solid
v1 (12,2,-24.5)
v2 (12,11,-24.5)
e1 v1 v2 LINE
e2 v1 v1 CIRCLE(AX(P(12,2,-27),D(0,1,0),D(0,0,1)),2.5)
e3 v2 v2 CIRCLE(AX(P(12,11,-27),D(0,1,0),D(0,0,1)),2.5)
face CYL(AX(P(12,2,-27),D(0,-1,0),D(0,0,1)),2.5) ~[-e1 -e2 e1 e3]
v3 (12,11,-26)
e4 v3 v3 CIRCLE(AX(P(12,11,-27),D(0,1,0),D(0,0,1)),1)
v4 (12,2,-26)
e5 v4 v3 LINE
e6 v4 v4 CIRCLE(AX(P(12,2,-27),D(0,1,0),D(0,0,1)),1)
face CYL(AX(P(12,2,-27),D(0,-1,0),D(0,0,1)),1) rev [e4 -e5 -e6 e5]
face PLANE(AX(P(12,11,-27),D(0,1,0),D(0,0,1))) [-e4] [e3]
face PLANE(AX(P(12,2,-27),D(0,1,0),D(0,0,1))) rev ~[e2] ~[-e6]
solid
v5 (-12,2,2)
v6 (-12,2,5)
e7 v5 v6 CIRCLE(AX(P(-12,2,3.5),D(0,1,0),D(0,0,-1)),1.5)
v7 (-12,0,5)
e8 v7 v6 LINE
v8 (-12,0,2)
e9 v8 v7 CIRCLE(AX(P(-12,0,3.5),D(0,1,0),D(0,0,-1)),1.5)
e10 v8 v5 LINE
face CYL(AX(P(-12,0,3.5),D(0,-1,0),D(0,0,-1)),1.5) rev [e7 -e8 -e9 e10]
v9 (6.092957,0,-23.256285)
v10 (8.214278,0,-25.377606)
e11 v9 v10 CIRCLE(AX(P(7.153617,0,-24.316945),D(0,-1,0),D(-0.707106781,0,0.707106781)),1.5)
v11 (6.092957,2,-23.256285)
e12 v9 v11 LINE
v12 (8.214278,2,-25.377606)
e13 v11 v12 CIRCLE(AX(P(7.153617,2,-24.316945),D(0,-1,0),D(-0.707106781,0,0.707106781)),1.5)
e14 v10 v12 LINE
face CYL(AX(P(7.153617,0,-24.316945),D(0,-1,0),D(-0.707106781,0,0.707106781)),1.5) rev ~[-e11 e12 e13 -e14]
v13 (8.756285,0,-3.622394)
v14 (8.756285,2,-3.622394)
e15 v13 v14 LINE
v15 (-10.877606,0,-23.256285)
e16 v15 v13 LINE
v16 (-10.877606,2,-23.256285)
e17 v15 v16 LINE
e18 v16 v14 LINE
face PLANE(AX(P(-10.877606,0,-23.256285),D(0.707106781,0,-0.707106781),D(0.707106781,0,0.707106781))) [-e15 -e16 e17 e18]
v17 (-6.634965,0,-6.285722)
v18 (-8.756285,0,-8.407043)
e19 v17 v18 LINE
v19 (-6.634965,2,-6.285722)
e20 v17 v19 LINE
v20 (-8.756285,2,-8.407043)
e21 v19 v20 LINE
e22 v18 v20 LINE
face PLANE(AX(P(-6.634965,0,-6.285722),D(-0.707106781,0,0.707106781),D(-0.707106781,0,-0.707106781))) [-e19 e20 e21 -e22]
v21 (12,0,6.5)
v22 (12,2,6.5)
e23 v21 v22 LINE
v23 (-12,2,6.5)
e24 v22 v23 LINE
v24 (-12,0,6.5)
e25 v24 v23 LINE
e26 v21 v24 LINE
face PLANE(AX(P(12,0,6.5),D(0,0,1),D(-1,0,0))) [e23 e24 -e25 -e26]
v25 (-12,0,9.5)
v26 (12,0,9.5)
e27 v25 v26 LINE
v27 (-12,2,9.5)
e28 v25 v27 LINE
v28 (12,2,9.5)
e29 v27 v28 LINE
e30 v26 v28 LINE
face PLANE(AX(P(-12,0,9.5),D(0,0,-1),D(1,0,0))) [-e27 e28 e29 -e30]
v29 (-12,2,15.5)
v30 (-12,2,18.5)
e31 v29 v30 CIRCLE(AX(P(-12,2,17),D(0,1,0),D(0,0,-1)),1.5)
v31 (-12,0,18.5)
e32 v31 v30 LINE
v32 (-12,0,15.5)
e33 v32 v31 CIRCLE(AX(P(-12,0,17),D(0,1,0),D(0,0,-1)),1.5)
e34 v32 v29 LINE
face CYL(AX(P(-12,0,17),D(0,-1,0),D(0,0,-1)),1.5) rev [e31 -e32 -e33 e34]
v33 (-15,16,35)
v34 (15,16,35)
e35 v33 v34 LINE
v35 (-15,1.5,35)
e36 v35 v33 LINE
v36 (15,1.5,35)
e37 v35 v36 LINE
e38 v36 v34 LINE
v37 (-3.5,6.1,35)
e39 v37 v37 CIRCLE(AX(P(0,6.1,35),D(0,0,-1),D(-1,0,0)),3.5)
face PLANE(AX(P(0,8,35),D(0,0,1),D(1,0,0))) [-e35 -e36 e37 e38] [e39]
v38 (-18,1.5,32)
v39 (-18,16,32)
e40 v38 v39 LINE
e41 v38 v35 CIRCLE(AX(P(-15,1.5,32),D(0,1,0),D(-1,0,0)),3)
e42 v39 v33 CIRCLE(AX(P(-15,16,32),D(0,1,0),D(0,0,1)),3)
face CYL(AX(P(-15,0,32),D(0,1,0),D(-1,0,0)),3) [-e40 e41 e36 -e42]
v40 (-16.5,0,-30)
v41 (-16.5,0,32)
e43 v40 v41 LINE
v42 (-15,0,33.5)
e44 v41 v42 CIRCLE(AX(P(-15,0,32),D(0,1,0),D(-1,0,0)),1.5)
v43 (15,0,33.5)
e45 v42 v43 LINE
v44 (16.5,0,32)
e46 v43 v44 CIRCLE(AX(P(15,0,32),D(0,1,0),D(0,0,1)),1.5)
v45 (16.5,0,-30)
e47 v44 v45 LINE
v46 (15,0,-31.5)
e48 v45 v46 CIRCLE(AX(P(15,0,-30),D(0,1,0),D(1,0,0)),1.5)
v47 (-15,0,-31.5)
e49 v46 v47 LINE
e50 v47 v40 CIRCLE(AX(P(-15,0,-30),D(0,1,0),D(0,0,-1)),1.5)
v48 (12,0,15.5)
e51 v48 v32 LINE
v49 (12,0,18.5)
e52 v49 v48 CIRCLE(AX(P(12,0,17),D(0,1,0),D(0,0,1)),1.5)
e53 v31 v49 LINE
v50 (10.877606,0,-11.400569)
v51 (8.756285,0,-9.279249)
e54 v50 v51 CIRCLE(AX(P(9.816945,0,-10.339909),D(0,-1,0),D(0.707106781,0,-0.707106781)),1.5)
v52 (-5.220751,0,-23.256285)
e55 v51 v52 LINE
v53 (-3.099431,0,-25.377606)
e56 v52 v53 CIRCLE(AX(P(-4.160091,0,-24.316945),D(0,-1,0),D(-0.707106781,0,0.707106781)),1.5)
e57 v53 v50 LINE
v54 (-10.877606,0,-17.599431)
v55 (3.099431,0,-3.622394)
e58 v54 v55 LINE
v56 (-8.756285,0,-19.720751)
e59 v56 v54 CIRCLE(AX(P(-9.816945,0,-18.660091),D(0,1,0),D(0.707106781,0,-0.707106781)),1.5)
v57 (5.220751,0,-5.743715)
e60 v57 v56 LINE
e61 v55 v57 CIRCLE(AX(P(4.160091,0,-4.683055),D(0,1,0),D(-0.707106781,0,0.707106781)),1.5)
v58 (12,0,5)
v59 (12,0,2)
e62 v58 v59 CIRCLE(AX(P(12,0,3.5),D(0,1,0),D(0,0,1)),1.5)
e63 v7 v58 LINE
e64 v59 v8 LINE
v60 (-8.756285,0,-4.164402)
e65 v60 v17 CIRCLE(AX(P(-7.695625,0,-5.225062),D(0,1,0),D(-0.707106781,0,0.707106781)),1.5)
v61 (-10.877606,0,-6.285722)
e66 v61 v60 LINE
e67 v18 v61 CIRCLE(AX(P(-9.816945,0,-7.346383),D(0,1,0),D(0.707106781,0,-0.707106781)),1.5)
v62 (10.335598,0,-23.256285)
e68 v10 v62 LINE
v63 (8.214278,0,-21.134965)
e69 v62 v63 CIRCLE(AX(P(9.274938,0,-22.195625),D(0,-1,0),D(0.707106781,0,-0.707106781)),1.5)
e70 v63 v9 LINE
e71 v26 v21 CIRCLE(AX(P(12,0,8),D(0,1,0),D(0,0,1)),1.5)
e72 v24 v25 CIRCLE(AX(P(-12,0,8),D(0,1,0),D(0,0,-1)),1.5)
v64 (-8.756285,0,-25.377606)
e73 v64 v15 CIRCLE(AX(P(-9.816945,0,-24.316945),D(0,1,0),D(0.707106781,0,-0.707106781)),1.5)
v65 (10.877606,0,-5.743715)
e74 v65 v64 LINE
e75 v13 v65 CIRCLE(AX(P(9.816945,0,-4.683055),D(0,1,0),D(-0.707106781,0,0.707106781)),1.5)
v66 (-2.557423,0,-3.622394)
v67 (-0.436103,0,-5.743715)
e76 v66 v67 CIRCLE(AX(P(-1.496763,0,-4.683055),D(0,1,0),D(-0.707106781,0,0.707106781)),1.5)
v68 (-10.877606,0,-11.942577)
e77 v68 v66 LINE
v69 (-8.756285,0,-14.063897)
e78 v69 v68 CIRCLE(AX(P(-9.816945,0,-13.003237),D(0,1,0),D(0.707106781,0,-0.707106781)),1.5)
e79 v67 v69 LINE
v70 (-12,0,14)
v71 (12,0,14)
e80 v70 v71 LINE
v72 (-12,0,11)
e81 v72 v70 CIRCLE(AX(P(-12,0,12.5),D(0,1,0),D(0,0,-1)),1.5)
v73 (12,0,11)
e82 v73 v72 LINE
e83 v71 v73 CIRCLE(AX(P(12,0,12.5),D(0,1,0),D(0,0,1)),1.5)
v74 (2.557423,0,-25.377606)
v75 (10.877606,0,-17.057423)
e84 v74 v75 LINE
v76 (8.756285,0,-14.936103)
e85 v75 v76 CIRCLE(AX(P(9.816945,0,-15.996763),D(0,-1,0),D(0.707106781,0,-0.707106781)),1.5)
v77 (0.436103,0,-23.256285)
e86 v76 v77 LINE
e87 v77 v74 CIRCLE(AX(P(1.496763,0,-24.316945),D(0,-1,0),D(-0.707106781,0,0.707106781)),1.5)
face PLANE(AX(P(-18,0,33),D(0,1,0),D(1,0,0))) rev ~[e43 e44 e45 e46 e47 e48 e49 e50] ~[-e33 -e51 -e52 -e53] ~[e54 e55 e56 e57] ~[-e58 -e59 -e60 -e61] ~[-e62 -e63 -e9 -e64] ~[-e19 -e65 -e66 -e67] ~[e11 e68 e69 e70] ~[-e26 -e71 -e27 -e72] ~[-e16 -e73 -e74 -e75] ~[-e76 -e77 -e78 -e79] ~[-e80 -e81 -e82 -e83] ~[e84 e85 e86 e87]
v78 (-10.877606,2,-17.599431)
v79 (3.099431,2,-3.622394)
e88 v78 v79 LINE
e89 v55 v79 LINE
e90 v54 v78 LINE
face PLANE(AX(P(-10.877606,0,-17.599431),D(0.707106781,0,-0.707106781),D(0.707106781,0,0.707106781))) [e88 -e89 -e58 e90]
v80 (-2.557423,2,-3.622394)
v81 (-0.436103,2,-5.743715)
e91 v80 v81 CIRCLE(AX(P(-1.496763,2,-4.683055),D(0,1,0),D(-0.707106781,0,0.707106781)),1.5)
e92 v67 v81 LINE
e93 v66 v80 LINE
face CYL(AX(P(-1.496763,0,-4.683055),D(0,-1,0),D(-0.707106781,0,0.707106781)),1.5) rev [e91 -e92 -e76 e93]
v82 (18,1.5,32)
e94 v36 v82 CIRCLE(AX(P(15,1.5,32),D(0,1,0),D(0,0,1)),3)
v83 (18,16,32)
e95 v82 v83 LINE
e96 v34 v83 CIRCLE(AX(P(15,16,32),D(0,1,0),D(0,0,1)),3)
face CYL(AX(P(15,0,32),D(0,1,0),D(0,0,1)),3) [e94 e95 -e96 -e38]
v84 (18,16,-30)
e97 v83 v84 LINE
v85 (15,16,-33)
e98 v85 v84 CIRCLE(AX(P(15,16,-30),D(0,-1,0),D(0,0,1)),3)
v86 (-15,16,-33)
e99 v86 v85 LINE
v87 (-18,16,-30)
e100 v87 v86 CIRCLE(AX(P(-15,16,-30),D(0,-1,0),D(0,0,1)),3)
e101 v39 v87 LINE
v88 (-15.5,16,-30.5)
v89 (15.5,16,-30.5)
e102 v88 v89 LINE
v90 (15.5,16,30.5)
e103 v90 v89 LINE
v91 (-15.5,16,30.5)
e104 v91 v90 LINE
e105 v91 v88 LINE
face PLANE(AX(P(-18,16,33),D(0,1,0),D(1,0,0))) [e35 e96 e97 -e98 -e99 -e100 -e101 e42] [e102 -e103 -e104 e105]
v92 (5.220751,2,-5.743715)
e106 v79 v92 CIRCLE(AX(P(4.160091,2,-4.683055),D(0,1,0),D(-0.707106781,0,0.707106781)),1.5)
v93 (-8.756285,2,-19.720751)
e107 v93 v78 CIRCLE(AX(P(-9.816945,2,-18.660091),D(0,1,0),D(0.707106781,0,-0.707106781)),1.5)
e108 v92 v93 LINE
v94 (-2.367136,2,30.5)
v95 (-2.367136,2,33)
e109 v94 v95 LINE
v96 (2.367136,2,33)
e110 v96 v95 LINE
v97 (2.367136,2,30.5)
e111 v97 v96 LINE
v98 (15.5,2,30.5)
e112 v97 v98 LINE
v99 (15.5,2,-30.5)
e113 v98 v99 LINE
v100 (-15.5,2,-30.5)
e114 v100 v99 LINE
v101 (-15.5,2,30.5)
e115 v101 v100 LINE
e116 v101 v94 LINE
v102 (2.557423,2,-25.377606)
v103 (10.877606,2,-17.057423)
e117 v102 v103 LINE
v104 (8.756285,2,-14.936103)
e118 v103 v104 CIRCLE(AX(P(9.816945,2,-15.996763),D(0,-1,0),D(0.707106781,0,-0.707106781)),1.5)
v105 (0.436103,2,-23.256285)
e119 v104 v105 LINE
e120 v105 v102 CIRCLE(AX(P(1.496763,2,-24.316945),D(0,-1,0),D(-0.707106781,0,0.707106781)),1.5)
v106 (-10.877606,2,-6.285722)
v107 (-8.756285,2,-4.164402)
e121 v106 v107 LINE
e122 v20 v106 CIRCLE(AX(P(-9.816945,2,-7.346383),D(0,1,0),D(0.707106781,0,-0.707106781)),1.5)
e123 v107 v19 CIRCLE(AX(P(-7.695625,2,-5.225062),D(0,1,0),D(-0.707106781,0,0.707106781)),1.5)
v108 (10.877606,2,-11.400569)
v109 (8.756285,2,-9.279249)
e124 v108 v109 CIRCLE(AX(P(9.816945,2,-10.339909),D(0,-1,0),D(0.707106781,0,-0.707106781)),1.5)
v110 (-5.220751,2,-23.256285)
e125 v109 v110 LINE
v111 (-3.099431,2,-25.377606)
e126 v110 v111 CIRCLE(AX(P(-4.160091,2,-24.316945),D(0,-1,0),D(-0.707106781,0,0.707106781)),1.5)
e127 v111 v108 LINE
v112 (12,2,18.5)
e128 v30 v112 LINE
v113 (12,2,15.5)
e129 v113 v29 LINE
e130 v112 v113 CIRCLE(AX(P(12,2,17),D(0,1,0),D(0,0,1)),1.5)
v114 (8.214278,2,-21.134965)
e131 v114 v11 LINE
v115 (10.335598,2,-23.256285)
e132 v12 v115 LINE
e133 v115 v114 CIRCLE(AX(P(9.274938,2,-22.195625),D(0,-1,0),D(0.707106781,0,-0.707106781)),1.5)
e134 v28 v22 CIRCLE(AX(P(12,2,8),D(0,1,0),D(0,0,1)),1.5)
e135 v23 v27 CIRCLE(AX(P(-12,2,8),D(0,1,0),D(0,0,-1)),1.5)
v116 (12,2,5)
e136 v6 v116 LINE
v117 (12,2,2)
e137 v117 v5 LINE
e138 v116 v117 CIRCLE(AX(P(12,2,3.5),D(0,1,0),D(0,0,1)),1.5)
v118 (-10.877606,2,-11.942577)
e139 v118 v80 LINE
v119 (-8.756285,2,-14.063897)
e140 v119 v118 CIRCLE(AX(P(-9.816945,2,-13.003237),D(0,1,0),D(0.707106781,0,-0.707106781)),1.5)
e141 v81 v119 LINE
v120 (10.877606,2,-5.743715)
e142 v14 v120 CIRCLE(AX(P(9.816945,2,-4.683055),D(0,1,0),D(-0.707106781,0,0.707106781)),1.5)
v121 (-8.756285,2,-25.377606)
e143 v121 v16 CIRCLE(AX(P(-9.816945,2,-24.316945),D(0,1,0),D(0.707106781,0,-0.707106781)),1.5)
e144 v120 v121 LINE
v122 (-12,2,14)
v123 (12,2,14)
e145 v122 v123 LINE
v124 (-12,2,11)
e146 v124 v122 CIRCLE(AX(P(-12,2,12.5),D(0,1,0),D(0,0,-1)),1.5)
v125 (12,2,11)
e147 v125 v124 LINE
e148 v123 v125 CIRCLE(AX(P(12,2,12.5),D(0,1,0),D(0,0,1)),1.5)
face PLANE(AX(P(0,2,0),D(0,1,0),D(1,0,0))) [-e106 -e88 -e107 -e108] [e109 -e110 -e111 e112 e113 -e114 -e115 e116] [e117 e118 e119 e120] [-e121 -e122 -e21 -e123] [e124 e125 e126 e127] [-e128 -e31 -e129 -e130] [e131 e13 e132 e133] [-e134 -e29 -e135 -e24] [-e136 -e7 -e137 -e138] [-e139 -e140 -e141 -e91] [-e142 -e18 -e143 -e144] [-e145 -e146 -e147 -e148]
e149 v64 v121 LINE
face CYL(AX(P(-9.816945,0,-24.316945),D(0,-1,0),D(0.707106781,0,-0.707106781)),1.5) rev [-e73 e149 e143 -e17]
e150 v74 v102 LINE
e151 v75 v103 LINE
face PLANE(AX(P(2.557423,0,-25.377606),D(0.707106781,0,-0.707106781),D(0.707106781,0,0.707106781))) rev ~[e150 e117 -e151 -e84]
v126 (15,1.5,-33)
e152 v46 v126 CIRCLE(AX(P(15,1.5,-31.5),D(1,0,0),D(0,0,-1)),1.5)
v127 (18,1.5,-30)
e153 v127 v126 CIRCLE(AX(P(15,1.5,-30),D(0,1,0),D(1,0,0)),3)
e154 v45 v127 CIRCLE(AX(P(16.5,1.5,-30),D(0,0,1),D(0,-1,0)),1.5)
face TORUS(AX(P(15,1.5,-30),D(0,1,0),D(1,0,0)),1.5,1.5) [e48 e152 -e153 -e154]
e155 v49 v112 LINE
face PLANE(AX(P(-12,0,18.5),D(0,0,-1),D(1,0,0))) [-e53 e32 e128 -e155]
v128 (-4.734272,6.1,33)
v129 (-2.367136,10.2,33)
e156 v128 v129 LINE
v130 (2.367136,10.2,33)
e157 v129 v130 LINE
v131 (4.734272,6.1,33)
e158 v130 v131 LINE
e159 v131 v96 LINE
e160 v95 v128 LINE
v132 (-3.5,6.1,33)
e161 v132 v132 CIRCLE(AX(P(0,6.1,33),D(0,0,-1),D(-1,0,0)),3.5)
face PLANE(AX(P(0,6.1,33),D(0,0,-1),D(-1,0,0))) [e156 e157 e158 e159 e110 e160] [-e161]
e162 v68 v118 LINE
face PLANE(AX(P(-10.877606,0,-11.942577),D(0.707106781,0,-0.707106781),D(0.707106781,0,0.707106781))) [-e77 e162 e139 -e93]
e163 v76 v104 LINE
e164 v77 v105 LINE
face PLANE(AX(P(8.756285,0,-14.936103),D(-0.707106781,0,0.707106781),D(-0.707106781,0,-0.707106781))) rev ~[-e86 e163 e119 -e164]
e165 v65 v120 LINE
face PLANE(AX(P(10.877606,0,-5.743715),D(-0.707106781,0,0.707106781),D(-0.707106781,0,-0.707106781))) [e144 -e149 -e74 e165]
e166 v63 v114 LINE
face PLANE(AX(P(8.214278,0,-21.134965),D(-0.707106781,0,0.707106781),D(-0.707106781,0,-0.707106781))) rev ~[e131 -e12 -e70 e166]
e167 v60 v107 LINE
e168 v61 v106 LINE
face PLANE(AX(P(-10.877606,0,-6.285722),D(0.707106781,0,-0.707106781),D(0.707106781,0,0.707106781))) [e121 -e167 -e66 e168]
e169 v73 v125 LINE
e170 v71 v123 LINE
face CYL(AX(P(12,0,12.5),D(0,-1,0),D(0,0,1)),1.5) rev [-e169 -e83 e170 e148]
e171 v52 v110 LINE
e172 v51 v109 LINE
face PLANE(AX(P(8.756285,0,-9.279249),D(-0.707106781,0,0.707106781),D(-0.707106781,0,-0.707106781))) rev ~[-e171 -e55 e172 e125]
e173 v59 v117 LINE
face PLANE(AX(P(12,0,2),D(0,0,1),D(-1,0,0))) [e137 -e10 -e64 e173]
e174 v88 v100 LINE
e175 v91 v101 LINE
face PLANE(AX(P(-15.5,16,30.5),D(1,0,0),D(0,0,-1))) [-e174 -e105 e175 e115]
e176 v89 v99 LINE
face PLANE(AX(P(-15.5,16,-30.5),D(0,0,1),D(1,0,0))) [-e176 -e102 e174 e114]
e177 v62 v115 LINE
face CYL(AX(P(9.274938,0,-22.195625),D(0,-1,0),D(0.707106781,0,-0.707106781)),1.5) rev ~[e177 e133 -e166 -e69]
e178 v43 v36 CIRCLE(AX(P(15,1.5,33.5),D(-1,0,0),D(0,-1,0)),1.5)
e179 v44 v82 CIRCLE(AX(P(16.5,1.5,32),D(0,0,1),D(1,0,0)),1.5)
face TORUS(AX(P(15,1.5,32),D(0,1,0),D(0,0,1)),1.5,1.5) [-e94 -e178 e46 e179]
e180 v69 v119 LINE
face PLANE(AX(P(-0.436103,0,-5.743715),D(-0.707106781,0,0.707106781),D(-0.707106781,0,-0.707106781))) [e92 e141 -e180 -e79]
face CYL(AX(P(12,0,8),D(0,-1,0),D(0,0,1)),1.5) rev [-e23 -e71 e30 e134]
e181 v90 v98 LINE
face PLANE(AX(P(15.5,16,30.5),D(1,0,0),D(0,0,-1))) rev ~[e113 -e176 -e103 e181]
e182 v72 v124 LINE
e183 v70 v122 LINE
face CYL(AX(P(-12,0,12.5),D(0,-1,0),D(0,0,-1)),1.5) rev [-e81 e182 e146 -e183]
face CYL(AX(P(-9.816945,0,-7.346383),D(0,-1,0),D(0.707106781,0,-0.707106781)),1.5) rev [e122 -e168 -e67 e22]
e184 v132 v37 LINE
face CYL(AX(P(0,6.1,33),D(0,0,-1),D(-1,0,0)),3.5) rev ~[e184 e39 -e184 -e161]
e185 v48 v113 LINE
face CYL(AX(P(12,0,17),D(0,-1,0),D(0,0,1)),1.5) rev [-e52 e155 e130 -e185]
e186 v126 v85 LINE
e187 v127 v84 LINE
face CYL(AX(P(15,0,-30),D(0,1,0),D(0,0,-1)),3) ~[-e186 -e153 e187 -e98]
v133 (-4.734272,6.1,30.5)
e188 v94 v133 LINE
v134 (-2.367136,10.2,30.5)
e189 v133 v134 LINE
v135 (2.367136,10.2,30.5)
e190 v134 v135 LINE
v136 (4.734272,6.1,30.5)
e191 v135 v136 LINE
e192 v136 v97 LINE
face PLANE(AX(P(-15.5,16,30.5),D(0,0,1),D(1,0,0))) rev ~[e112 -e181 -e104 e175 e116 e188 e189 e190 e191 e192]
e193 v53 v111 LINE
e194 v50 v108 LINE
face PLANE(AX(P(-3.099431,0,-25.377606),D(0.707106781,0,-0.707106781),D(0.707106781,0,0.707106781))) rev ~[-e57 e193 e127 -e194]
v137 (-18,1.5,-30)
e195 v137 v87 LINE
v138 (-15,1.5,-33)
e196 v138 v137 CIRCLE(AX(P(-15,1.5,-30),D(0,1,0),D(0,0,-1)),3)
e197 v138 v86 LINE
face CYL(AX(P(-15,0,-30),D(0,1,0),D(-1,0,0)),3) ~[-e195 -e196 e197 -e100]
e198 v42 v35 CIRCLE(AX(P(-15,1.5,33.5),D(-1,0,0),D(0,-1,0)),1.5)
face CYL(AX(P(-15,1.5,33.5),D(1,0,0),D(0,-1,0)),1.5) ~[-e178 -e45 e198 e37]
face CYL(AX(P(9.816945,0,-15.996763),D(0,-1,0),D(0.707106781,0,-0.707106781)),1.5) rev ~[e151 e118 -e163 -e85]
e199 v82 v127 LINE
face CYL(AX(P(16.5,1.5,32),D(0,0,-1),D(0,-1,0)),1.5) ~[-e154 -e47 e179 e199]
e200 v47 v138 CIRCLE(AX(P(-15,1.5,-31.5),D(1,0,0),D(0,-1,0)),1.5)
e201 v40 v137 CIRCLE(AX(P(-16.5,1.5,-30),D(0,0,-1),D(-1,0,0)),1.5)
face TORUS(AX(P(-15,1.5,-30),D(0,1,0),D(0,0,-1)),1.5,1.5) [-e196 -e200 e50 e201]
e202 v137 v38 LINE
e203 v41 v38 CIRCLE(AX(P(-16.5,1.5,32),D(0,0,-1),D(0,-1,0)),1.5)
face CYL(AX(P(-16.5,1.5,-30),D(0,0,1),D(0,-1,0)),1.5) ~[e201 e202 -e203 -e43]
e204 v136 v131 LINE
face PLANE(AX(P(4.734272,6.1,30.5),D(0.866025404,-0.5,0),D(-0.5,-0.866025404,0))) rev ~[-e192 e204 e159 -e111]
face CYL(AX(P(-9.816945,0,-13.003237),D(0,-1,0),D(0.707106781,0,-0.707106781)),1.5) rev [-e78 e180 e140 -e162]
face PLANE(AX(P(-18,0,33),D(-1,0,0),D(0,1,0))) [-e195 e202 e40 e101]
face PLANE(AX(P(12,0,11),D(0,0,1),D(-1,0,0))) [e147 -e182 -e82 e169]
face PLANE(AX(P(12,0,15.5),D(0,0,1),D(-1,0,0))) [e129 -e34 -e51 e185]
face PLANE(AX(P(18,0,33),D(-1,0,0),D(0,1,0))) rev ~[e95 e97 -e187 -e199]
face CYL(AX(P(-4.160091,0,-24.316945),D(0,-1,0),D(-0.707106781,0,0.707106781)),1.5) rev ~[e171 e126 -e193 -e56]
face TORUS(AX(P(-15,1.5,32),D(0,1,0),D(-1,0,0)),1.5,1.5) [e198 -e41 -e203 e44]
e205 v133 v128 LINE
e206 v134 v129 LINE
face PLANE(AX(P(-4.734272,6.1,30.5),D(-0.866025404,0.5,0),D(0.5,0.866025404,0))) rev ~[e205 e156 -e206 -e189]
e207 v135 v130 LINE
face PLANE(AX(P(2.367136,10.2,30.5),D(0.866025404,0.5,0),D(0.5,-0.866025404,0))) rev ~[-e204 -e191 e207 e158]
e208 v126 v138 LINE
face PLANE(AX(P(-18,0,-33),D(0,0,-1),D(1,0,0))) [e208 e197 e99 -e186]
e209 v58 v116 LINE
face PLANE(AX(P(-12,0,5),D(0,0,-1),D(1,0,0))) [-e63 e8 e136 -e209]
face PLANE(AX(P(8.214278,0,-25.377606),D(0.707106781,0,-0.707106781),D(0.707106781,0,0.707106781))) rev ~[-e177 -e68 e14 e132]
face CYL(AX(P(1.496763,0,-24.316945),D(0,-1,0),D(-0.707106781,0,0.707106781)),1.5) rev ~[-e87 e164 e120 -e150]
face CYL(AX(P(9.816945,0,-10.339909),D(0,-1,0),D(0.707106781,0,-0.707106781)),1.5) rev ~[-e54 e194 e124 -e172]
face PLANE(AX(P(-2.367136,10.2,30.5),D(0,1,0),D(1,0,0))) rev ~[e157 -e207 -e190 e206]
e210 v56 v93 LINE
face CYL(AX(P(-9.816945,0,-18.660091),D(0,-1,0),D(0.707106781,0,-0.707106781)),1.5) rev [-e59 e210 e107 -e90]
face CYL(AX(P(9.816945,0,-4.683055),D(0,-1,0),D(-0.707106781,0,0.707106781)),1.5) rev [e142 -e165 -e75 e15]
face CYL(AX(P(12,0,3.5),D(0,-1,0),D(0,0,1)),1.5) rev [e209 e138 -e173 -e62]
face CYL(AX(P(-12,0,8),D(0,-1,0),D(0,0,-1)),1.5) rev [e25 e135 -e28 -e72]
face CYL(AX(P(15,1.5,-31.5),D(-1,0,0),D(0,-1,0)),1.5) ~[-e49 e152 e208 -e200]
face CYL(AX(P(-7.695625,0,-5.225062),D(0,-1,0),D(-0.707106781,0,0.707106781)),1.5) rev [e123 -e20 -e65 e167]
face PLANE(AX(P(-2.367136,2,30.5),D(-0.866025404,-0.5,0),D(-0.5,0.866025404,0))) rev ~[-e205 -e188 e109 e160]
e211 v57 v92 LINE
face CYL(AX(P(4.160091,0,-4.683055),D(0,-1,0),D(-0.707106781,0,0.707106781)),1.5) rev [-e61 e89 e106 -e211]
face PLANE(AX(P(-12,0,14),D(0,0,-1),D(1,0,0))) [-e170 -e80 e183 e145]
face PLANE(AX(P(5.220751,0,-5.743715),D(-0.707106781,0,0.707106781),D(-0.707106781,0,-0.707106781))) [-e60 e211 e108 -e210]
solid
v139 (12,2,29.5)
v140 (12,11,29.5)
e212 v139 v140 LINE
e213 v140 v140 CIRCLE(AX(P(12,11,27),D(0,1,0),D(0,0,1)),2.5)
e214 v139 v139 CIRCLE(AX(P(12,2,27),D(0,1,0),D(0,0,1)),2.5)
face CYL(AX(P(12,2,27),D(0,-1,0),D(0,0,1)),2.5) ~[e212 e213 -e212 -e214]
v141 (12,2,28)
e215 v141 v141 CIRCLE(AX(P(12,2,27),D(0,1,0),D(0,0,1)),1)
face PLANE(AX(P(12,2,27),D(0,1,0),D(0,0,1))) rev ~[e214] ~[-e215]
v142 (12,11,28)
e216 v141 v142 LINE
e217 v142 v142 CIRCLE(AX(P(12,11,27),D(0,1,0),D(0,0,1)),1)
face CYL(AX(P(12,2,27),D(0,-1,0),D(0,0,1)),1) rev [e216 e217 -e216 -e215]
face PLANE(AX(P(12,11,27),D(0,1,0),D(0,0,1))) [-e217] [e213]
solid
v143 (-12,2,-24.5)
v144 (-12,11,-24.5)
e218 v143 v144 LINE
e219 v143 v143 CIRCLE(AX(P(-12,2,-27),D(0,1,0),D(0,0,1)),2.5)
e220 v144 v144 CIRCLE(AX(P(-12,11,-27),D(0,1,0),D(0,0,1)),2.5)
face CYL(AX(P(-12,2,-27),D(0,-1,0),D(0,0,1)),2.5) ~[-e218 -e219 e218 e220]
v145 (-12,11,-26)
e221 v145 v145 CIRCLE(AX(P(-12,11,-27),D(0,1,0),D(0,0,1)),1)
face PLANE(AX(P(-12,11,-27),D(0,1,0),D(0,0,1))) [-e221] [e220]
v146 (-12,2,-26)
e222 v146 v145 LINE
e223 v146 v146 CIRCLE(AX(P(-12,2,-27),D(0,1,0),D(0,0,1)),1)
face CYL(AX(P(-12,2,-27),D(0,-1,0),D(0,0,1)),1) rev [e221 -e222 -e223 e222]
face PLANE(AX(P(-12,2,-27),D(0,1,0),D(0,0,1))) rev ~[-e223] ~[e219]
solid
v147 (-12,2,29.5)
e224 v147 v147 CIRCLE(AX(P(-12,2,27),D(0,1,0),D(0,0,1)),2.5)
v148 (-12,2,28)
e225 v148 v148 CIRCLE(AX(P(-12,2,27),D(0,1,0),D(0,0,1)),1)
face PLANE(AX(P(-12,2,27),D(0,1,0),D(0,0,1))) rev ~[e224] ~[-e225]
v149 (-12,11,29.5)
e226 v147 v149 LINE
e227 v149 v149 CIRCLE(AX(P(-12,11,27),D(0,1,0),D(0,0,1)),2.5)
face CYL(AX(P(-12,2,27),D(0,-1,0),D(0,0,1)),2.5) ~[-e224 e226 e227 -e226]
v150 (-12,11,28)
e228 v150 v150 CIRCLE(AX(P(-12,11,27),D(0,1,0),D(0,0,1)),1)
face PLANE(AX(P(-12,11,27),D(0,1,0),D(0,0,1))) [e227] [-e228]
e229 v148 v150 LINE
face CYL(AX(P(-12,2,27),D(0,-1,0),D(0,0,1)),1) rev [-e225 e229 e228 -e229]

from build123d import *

# Parameters (mm, degrees)
SKETCH_1_W          = 36
SKETCH_1_H          = 66
SKETCH_1_W_2        = 30
SKETCH_1_H_2        = 60
SKETCH_1_R          = 1.05
EXTRUDE_1_DEPTH     = 16
SKETCH_2_W          = 31
SKETCH_2_H          = 61
CUT_EXTRUDE_1_DEPTH = 14
SKETCH_3_R          = 2.5
SKETCH_3_R_2        = 1
EXTRUDE_4_DEPTH     = 9
EXTRUDE_4_2_DEPTH   = 9
EXTRUDE_4_3_DEPTH   = 9
EXTRUDE_4_4_DEPTH   = 9
SKETCH_6_W          = 36
SKETCH_6_H          = 16
EXTRUDE_5_DEPTH     = 2
CUT_EXTRUDE_2_DEPTH = 2.5
SKETCH_9_R          = 3.5
CUT_EXTRUDE_3_DEPTH = 71.256672281
FILLET_1_R          = 3
FILLET_2_R          = 1.5
CUT_EXTRUDE_4_DEPTH = 2


with BuildPart() as part:
    # 草图1 → 凸台-拉伸1 (new body)
    # profile 1 of 6: a face of its own
    with BuildSketch(Plane(origin=(0, 0, 0), x_dir=(1, 0, 0), z_dir=(0, 1, 0))):
        Rectangle(SKETCH_1_W, SKETCH_1_H)
        Rectangle(SKETCH_1_W_2, SKETCH_1_H_2, mode=Mode.SUBTRACT)
    # profile 2 of 6: a face of its own
    with BuildSketch(Plane(origin=(0, 0, 0), x_dir=(1, 0, 0), z_dir=(0, 1, 0))):
        Rectangle(SKETCH_1_W_2, SKETCH_1_H_2)
        with Locations((12, 27)):
            Circle(SKETCH_1_R, mode=Mode.SUBTRACT)
        with Locations((-12, 27)):
            Circle(SKETCH_1_R, mode=Mode.SUBTRACT)
        with Locations((12, -27)):
            Circle(SKETCH_1_R, mode=Mode.SUBTRACT)
        with Locations((-12, -27)):
            Circle(SKETCH_1_R, mode=Mode.SUBTRACT)
    # profile 3 of 6: a face of its own
    with BuildSketch(Plane(origin=(0, 0, 0), x_dir=(1, 0, 0), z_dir=(0, 1, 0))):
        with Locations((-12, -27)):
            Circle(SKETCH_1_R)
    # profile 4 of 6: a face of its own
    with BuildSketch(Plane(origin=(0, 0, 0), x_dir=(1, 0, 0), z_dir=(0, 1, 0))):
        with Locations((12, -27)):
            Circle(SKETCH_1_R)
    # profile 5 of 6: a face of its own
    with BuildSketch(Plane(origin=(0, 0, 0), x_dir=(1, 0, 0), z_dir=(0, 1, 0))):
        with Locations((-12, 27)):
            Circle(SKETCH_1_R)
    # profile 6 of 6: a face of its own
    with BuildSketch(Plane(origin=(0, 0, 0), x_dir=(1, 0, 0), z_dir=(0, 1, 0))):
        with Locations((12, 27)):
            Circle(SKETCH_1_R)
    extrude(amount=EXTRUDE_1_DEPTH)

    # 草图2 → 切除-拉伸1 (cut)
    with BuildSketch(Plane(origin=(0, 16, 0), x_dir=(1, 0, 0), z_dir=(0, 1, 0))):
        Rectangle(SKETCH_2_W, SKETCH_2_H)
    extrude(amount=-CUT_EXTRUDE_1_DEPTH, mode=Mode.SUBTRACT)

    # 草图6 → 凸台-拉伸5 (add)
    with BuildSketch(Plane.XY.offset(33)):
        with Locations((0, 8)):
            Rectangle(SKETCH_6_W, SKETCH_6_H)
    extrude(amount=EXTRUDE_5_DEPTH)

    # 草图7 → 切除-拉伸2 (cut)
    with BuildSketch(Plane(origin=(0, 0, 30.5), x_dir=(-1, 0, 0), z_dir=(0, 0, -1))):
        Polygon((2.367136104, 10.2), (-2.367136104, 10.2), (-4.734272207, 6.1), (-2.367136104, 2), (2.367136104, 2), (4.734272207, 6.1), align=None)
    extrude(amount=-CUT_EXTRUDE_2_DEPTH, mode=Mode.SUBTRACT)

    # 草图9 → 切除-拉伸3 (cut, through all)
    with BuildSketch(Plane(origin=(0, 0, 33), x_dir=(-1, 0, 0), z_dir=(0, 0, -1))):
        with Locations((0, 6.1)):
            Circle(SKETCH_9_R)
    extrude(amount=-CUT_EXTRUDE_3_DEPTH, mode=Mode.SUBTRACT)

    # 圆角1
    fillet_1_edges = [part.edges().sort_by_distance(p)[0] for p in [
        (-18, 8, 35),
        (18, 8, 35),
        (-18, 8, -33),
        (18, 8, -33),
    ]]
    fillet(fillet_1_edges, radius=FILLET_1_R)

    # 圆角2
    fillet_2_edges = [part.edges().sort_by_distance(p)[0] for p in [
        (0, 0, 35),
        (-18, 0, 1),
        (0, 0, -33),
        (18, 0, 1),
        (-17.121320344, 0, -32.121320344),
        (17.121320344, 0, -32.121320344),
        (17.121320344, 0, 34.121320344),
        (-17.121320344, 0, 34.121320344),
    ]]
    fillet(fillet_2_edges, radius=FILLET_2_R)

    # 草图13 → 切除-拉伸4 (cut)
    with BuildSketch(Plane.XZ):
        with BuildLine():
            Line((-12, 18.5), (12, 18.5))
            ThreePointArc((12, 18.5), (13.5, 17), (12, 15.5))
            Line((12, 15.5), (-12, 15.5))
            ThreePointArc((-12, 15.5), (-13.5, 17), (-12, 18.5))
        make_face()
        with BuildLine():
            Line((-12, 14), (12, 14))
            ThreePointArc((12, 14), (13.5, 12.5), (12, 11))
            Line((12, 11), (-12, 11))
            ThreePointArc((-12, 11), (-13.5, 12.5), (-12, 14))
        make_face()
        with BuildLine():
            Line((-12, 9.5), (12, 9.5))
            ThreePointArc((12, 9.5), (13.5, 8), (12, 6.5))
            Line((12, 6.5), (-12, 6.5))
            ThreePointArc((-12, 6.5), (-13.5, 8), (-12, 9.5))
        make_face()
        with BuildLine():
            Line((-12, 5), (12, 5))
            ThreePointArc((12, 5), (13.5, 3.5), (12, 2))
            Line((12, 2), (-12, 2))
            ThreePointArc((-12, 2), (-13.5, 3.5), (-12, 5))
        make_face()
        with BuildLine():
            Line((-10.877605533, -6.285722441), (-8.75628519, -4.164402098))
            ThreePointArc((-8.75628519, -4.164402098), (-6.634964846, -4.164402098), (-6.634964846, -6.285722441))
            Line((-6.634964846, -6.285722441), (-8.75628519, -8.407042785))
            ThreePointArc((-8.75628519, -8.407042785), (-10.877605533, -8.407042785), (-10.877605533, -6.285722441))
        make_face()
        with BuildLine():
            Line((-10.877605533, -11.942576691), (-2.557423309, -3.622394467))
            ThreePointArc((-2.557423309, -3.622394467), (-0.436102966, -3.622394467), (-0.436102966, -5.74371481))
            Line((-0.436102966, -5.74371481), (-8.75628519, -14.063897034))
            ThreePointArc((-8.75628519, -14.063897034), (-10.877605533, -14.063897034), (-10.877605533, -11.942576691))
        make_face()
        with BuildLine():
            Line((-10.877605533, -17.59943094), (3.09943094, -3.622394467))
            ThreePointArc((3.09943094, -3.622394467), (5.220751284, -3.622394467), (5.220751284, -5.74371481))
            Line((5.220751284, -5.74371481), (-8.75628519, -19.720751284))
            ThreePointArc((-8.75628519, -19.720751284), (-10.877605533, -19.720751284), (-10.877605533, -17.59943094))
        make_face()
        with BuildLine():
            Line((-10.877605533, -23.25628519), (8.75628519, -3.622394467))
            ThreePointArc((8.75628519, -3.622394467), (10.877605533, -3.622394467), (10.877605533, -5.74371481))
            Line((10.877605533, -5.74371481), (-8.75628519, -25.377605533))
            ThreePointArc((-8.75628519, -25.377605533), (-10.877605533, -25.377605533), (-10.877605533, -23.25628519))
        make_face()
        with BuildLine():
            Line((8.214277559, -25.377605533), (10.335597902, -23.25628519))
            ThreePointArc((10.335597902, -23.25628519), (10.335597902, -21.134964846), (8.214277559, -21.134964846))
            Line((8.214277559, -21.134964846), (6.092957215, -23.25628519))
            ThreePointArc((6.092957215, -23.25628519), (6.092957215, -25.377605533), (8.214277559, -25.377605533))
        make_face()
        with BuildLine():
            Line((2.557423309, -25.377605533), (10.877605533, -17.057423309))
            ThreePointArc((10.877605533, -17.057423309), (10.877605533, -14.936102966), (8.75628519, -14.936102966))
            Line((8.75628519, -14.936102966), (0.436102966, -23.25628519))
            ThreePointArc((0.436102966, -23.25628519), (0.436102966, -25.377605533), (2.557423309, -25.377605533))
        make_face()
        with BuildLine():
            Line((-3.09943094, -25.377605533), (10.877605533, -11.40056906))
            ThreePointArc((10.877605533, -11.40056906), (10.877605533, -9.279248716), (8.75628519, -9.279248716))
            Line((8.75628519, -9.279248716), (-5.220751284, -23.25628519))
            ThreePointArc((-5.220751284, -23.25628519), (-5.220751284, -25.377605533), (-3.09943094, -25.377605533))
        make_face()
    extrude(amount=-CUT_EXTRUDE_4_DEPTH, mode=Mode.SUBTRACT)


with BuildPart() as body_2:
    # 草图3 → 凸台-拉伸4 (new body)
    with BuildSketch(Plane(origin=(0, 2, 0), x_dir=(1, 0, 0), z_dir=(0, 1, 0))):
        with Locations(Location((-12, 27, 0), (0, 0, 270))):
            Circle(SKETCH_3_R)
        with Locations(Location((-12, 27, 0), (0, 0, 270))):
            Circle(SKETCH_3_R_2, mode=Mode.SUBTRACT)
    extrude(amount=EXTRUDE_4_DEPTH)


with BuildPart() as body_3:
    # 草图3 → Extrude 4 2 (new body)
    with BuildSketch(Plane(origin=(0, 2, 0), x_dir=(1, 0, 0), z_dir=(0, 1, 0))):
        with Locations(Location((12, 27, 0), (0, 0, 270))):
            Circle(SKETCH_3_R)
        with Locations(Location((12, 27, 0), (0, 0, 270))):
            Circle(SKETCH_3_R_2, mode=Mode.SUBTRACT)
    extrude(amount=EXTRUDE_4_2_DEPTH)


with BuildPart() as body_4:
    # 草图3 → Extrude 4 3 (new body)
    with BuildSketch(Plane(origin=(0, 2, 0), x_dir=(1, 0, 0), z_dir=(0, 1, 0))):
        with Locations(Location((12, -27, 0), (0, 0, 270))):
            Circle(SKETCH_3_R)
        with Locations(Location((12, -27, 0), (0, 0, 270))):
            Circle(SKETCH_3_R_2, mode=Mode.SUBTRACT)
    extrude(amount=EXTRUDE_4_3_DEPTH)


with BuildPart() as body_5:
    # 草图3 → Extrude 4 4 (new body)
    with BuildSketch(Plane(origin=(0, 2, 0), x_dir=(1, 0, 0), z_dir=(0, 1, 0))):
        with Locations(Location((-12, -27, 0), (0, 0, 270))):
            Circle(SKETCH_3_R)
        with Locations(Location((-12, -27, 0), (0, 0, 270))):
            Circle(SKETCH_3_R_2, mode=Mode.SUBTRACT)
    extrude(amount=EXTRUDE_4_4_DEPTH)


solid = Compound([part.part, body_2.part, body_3.part, body_4.part, body_5.part])
